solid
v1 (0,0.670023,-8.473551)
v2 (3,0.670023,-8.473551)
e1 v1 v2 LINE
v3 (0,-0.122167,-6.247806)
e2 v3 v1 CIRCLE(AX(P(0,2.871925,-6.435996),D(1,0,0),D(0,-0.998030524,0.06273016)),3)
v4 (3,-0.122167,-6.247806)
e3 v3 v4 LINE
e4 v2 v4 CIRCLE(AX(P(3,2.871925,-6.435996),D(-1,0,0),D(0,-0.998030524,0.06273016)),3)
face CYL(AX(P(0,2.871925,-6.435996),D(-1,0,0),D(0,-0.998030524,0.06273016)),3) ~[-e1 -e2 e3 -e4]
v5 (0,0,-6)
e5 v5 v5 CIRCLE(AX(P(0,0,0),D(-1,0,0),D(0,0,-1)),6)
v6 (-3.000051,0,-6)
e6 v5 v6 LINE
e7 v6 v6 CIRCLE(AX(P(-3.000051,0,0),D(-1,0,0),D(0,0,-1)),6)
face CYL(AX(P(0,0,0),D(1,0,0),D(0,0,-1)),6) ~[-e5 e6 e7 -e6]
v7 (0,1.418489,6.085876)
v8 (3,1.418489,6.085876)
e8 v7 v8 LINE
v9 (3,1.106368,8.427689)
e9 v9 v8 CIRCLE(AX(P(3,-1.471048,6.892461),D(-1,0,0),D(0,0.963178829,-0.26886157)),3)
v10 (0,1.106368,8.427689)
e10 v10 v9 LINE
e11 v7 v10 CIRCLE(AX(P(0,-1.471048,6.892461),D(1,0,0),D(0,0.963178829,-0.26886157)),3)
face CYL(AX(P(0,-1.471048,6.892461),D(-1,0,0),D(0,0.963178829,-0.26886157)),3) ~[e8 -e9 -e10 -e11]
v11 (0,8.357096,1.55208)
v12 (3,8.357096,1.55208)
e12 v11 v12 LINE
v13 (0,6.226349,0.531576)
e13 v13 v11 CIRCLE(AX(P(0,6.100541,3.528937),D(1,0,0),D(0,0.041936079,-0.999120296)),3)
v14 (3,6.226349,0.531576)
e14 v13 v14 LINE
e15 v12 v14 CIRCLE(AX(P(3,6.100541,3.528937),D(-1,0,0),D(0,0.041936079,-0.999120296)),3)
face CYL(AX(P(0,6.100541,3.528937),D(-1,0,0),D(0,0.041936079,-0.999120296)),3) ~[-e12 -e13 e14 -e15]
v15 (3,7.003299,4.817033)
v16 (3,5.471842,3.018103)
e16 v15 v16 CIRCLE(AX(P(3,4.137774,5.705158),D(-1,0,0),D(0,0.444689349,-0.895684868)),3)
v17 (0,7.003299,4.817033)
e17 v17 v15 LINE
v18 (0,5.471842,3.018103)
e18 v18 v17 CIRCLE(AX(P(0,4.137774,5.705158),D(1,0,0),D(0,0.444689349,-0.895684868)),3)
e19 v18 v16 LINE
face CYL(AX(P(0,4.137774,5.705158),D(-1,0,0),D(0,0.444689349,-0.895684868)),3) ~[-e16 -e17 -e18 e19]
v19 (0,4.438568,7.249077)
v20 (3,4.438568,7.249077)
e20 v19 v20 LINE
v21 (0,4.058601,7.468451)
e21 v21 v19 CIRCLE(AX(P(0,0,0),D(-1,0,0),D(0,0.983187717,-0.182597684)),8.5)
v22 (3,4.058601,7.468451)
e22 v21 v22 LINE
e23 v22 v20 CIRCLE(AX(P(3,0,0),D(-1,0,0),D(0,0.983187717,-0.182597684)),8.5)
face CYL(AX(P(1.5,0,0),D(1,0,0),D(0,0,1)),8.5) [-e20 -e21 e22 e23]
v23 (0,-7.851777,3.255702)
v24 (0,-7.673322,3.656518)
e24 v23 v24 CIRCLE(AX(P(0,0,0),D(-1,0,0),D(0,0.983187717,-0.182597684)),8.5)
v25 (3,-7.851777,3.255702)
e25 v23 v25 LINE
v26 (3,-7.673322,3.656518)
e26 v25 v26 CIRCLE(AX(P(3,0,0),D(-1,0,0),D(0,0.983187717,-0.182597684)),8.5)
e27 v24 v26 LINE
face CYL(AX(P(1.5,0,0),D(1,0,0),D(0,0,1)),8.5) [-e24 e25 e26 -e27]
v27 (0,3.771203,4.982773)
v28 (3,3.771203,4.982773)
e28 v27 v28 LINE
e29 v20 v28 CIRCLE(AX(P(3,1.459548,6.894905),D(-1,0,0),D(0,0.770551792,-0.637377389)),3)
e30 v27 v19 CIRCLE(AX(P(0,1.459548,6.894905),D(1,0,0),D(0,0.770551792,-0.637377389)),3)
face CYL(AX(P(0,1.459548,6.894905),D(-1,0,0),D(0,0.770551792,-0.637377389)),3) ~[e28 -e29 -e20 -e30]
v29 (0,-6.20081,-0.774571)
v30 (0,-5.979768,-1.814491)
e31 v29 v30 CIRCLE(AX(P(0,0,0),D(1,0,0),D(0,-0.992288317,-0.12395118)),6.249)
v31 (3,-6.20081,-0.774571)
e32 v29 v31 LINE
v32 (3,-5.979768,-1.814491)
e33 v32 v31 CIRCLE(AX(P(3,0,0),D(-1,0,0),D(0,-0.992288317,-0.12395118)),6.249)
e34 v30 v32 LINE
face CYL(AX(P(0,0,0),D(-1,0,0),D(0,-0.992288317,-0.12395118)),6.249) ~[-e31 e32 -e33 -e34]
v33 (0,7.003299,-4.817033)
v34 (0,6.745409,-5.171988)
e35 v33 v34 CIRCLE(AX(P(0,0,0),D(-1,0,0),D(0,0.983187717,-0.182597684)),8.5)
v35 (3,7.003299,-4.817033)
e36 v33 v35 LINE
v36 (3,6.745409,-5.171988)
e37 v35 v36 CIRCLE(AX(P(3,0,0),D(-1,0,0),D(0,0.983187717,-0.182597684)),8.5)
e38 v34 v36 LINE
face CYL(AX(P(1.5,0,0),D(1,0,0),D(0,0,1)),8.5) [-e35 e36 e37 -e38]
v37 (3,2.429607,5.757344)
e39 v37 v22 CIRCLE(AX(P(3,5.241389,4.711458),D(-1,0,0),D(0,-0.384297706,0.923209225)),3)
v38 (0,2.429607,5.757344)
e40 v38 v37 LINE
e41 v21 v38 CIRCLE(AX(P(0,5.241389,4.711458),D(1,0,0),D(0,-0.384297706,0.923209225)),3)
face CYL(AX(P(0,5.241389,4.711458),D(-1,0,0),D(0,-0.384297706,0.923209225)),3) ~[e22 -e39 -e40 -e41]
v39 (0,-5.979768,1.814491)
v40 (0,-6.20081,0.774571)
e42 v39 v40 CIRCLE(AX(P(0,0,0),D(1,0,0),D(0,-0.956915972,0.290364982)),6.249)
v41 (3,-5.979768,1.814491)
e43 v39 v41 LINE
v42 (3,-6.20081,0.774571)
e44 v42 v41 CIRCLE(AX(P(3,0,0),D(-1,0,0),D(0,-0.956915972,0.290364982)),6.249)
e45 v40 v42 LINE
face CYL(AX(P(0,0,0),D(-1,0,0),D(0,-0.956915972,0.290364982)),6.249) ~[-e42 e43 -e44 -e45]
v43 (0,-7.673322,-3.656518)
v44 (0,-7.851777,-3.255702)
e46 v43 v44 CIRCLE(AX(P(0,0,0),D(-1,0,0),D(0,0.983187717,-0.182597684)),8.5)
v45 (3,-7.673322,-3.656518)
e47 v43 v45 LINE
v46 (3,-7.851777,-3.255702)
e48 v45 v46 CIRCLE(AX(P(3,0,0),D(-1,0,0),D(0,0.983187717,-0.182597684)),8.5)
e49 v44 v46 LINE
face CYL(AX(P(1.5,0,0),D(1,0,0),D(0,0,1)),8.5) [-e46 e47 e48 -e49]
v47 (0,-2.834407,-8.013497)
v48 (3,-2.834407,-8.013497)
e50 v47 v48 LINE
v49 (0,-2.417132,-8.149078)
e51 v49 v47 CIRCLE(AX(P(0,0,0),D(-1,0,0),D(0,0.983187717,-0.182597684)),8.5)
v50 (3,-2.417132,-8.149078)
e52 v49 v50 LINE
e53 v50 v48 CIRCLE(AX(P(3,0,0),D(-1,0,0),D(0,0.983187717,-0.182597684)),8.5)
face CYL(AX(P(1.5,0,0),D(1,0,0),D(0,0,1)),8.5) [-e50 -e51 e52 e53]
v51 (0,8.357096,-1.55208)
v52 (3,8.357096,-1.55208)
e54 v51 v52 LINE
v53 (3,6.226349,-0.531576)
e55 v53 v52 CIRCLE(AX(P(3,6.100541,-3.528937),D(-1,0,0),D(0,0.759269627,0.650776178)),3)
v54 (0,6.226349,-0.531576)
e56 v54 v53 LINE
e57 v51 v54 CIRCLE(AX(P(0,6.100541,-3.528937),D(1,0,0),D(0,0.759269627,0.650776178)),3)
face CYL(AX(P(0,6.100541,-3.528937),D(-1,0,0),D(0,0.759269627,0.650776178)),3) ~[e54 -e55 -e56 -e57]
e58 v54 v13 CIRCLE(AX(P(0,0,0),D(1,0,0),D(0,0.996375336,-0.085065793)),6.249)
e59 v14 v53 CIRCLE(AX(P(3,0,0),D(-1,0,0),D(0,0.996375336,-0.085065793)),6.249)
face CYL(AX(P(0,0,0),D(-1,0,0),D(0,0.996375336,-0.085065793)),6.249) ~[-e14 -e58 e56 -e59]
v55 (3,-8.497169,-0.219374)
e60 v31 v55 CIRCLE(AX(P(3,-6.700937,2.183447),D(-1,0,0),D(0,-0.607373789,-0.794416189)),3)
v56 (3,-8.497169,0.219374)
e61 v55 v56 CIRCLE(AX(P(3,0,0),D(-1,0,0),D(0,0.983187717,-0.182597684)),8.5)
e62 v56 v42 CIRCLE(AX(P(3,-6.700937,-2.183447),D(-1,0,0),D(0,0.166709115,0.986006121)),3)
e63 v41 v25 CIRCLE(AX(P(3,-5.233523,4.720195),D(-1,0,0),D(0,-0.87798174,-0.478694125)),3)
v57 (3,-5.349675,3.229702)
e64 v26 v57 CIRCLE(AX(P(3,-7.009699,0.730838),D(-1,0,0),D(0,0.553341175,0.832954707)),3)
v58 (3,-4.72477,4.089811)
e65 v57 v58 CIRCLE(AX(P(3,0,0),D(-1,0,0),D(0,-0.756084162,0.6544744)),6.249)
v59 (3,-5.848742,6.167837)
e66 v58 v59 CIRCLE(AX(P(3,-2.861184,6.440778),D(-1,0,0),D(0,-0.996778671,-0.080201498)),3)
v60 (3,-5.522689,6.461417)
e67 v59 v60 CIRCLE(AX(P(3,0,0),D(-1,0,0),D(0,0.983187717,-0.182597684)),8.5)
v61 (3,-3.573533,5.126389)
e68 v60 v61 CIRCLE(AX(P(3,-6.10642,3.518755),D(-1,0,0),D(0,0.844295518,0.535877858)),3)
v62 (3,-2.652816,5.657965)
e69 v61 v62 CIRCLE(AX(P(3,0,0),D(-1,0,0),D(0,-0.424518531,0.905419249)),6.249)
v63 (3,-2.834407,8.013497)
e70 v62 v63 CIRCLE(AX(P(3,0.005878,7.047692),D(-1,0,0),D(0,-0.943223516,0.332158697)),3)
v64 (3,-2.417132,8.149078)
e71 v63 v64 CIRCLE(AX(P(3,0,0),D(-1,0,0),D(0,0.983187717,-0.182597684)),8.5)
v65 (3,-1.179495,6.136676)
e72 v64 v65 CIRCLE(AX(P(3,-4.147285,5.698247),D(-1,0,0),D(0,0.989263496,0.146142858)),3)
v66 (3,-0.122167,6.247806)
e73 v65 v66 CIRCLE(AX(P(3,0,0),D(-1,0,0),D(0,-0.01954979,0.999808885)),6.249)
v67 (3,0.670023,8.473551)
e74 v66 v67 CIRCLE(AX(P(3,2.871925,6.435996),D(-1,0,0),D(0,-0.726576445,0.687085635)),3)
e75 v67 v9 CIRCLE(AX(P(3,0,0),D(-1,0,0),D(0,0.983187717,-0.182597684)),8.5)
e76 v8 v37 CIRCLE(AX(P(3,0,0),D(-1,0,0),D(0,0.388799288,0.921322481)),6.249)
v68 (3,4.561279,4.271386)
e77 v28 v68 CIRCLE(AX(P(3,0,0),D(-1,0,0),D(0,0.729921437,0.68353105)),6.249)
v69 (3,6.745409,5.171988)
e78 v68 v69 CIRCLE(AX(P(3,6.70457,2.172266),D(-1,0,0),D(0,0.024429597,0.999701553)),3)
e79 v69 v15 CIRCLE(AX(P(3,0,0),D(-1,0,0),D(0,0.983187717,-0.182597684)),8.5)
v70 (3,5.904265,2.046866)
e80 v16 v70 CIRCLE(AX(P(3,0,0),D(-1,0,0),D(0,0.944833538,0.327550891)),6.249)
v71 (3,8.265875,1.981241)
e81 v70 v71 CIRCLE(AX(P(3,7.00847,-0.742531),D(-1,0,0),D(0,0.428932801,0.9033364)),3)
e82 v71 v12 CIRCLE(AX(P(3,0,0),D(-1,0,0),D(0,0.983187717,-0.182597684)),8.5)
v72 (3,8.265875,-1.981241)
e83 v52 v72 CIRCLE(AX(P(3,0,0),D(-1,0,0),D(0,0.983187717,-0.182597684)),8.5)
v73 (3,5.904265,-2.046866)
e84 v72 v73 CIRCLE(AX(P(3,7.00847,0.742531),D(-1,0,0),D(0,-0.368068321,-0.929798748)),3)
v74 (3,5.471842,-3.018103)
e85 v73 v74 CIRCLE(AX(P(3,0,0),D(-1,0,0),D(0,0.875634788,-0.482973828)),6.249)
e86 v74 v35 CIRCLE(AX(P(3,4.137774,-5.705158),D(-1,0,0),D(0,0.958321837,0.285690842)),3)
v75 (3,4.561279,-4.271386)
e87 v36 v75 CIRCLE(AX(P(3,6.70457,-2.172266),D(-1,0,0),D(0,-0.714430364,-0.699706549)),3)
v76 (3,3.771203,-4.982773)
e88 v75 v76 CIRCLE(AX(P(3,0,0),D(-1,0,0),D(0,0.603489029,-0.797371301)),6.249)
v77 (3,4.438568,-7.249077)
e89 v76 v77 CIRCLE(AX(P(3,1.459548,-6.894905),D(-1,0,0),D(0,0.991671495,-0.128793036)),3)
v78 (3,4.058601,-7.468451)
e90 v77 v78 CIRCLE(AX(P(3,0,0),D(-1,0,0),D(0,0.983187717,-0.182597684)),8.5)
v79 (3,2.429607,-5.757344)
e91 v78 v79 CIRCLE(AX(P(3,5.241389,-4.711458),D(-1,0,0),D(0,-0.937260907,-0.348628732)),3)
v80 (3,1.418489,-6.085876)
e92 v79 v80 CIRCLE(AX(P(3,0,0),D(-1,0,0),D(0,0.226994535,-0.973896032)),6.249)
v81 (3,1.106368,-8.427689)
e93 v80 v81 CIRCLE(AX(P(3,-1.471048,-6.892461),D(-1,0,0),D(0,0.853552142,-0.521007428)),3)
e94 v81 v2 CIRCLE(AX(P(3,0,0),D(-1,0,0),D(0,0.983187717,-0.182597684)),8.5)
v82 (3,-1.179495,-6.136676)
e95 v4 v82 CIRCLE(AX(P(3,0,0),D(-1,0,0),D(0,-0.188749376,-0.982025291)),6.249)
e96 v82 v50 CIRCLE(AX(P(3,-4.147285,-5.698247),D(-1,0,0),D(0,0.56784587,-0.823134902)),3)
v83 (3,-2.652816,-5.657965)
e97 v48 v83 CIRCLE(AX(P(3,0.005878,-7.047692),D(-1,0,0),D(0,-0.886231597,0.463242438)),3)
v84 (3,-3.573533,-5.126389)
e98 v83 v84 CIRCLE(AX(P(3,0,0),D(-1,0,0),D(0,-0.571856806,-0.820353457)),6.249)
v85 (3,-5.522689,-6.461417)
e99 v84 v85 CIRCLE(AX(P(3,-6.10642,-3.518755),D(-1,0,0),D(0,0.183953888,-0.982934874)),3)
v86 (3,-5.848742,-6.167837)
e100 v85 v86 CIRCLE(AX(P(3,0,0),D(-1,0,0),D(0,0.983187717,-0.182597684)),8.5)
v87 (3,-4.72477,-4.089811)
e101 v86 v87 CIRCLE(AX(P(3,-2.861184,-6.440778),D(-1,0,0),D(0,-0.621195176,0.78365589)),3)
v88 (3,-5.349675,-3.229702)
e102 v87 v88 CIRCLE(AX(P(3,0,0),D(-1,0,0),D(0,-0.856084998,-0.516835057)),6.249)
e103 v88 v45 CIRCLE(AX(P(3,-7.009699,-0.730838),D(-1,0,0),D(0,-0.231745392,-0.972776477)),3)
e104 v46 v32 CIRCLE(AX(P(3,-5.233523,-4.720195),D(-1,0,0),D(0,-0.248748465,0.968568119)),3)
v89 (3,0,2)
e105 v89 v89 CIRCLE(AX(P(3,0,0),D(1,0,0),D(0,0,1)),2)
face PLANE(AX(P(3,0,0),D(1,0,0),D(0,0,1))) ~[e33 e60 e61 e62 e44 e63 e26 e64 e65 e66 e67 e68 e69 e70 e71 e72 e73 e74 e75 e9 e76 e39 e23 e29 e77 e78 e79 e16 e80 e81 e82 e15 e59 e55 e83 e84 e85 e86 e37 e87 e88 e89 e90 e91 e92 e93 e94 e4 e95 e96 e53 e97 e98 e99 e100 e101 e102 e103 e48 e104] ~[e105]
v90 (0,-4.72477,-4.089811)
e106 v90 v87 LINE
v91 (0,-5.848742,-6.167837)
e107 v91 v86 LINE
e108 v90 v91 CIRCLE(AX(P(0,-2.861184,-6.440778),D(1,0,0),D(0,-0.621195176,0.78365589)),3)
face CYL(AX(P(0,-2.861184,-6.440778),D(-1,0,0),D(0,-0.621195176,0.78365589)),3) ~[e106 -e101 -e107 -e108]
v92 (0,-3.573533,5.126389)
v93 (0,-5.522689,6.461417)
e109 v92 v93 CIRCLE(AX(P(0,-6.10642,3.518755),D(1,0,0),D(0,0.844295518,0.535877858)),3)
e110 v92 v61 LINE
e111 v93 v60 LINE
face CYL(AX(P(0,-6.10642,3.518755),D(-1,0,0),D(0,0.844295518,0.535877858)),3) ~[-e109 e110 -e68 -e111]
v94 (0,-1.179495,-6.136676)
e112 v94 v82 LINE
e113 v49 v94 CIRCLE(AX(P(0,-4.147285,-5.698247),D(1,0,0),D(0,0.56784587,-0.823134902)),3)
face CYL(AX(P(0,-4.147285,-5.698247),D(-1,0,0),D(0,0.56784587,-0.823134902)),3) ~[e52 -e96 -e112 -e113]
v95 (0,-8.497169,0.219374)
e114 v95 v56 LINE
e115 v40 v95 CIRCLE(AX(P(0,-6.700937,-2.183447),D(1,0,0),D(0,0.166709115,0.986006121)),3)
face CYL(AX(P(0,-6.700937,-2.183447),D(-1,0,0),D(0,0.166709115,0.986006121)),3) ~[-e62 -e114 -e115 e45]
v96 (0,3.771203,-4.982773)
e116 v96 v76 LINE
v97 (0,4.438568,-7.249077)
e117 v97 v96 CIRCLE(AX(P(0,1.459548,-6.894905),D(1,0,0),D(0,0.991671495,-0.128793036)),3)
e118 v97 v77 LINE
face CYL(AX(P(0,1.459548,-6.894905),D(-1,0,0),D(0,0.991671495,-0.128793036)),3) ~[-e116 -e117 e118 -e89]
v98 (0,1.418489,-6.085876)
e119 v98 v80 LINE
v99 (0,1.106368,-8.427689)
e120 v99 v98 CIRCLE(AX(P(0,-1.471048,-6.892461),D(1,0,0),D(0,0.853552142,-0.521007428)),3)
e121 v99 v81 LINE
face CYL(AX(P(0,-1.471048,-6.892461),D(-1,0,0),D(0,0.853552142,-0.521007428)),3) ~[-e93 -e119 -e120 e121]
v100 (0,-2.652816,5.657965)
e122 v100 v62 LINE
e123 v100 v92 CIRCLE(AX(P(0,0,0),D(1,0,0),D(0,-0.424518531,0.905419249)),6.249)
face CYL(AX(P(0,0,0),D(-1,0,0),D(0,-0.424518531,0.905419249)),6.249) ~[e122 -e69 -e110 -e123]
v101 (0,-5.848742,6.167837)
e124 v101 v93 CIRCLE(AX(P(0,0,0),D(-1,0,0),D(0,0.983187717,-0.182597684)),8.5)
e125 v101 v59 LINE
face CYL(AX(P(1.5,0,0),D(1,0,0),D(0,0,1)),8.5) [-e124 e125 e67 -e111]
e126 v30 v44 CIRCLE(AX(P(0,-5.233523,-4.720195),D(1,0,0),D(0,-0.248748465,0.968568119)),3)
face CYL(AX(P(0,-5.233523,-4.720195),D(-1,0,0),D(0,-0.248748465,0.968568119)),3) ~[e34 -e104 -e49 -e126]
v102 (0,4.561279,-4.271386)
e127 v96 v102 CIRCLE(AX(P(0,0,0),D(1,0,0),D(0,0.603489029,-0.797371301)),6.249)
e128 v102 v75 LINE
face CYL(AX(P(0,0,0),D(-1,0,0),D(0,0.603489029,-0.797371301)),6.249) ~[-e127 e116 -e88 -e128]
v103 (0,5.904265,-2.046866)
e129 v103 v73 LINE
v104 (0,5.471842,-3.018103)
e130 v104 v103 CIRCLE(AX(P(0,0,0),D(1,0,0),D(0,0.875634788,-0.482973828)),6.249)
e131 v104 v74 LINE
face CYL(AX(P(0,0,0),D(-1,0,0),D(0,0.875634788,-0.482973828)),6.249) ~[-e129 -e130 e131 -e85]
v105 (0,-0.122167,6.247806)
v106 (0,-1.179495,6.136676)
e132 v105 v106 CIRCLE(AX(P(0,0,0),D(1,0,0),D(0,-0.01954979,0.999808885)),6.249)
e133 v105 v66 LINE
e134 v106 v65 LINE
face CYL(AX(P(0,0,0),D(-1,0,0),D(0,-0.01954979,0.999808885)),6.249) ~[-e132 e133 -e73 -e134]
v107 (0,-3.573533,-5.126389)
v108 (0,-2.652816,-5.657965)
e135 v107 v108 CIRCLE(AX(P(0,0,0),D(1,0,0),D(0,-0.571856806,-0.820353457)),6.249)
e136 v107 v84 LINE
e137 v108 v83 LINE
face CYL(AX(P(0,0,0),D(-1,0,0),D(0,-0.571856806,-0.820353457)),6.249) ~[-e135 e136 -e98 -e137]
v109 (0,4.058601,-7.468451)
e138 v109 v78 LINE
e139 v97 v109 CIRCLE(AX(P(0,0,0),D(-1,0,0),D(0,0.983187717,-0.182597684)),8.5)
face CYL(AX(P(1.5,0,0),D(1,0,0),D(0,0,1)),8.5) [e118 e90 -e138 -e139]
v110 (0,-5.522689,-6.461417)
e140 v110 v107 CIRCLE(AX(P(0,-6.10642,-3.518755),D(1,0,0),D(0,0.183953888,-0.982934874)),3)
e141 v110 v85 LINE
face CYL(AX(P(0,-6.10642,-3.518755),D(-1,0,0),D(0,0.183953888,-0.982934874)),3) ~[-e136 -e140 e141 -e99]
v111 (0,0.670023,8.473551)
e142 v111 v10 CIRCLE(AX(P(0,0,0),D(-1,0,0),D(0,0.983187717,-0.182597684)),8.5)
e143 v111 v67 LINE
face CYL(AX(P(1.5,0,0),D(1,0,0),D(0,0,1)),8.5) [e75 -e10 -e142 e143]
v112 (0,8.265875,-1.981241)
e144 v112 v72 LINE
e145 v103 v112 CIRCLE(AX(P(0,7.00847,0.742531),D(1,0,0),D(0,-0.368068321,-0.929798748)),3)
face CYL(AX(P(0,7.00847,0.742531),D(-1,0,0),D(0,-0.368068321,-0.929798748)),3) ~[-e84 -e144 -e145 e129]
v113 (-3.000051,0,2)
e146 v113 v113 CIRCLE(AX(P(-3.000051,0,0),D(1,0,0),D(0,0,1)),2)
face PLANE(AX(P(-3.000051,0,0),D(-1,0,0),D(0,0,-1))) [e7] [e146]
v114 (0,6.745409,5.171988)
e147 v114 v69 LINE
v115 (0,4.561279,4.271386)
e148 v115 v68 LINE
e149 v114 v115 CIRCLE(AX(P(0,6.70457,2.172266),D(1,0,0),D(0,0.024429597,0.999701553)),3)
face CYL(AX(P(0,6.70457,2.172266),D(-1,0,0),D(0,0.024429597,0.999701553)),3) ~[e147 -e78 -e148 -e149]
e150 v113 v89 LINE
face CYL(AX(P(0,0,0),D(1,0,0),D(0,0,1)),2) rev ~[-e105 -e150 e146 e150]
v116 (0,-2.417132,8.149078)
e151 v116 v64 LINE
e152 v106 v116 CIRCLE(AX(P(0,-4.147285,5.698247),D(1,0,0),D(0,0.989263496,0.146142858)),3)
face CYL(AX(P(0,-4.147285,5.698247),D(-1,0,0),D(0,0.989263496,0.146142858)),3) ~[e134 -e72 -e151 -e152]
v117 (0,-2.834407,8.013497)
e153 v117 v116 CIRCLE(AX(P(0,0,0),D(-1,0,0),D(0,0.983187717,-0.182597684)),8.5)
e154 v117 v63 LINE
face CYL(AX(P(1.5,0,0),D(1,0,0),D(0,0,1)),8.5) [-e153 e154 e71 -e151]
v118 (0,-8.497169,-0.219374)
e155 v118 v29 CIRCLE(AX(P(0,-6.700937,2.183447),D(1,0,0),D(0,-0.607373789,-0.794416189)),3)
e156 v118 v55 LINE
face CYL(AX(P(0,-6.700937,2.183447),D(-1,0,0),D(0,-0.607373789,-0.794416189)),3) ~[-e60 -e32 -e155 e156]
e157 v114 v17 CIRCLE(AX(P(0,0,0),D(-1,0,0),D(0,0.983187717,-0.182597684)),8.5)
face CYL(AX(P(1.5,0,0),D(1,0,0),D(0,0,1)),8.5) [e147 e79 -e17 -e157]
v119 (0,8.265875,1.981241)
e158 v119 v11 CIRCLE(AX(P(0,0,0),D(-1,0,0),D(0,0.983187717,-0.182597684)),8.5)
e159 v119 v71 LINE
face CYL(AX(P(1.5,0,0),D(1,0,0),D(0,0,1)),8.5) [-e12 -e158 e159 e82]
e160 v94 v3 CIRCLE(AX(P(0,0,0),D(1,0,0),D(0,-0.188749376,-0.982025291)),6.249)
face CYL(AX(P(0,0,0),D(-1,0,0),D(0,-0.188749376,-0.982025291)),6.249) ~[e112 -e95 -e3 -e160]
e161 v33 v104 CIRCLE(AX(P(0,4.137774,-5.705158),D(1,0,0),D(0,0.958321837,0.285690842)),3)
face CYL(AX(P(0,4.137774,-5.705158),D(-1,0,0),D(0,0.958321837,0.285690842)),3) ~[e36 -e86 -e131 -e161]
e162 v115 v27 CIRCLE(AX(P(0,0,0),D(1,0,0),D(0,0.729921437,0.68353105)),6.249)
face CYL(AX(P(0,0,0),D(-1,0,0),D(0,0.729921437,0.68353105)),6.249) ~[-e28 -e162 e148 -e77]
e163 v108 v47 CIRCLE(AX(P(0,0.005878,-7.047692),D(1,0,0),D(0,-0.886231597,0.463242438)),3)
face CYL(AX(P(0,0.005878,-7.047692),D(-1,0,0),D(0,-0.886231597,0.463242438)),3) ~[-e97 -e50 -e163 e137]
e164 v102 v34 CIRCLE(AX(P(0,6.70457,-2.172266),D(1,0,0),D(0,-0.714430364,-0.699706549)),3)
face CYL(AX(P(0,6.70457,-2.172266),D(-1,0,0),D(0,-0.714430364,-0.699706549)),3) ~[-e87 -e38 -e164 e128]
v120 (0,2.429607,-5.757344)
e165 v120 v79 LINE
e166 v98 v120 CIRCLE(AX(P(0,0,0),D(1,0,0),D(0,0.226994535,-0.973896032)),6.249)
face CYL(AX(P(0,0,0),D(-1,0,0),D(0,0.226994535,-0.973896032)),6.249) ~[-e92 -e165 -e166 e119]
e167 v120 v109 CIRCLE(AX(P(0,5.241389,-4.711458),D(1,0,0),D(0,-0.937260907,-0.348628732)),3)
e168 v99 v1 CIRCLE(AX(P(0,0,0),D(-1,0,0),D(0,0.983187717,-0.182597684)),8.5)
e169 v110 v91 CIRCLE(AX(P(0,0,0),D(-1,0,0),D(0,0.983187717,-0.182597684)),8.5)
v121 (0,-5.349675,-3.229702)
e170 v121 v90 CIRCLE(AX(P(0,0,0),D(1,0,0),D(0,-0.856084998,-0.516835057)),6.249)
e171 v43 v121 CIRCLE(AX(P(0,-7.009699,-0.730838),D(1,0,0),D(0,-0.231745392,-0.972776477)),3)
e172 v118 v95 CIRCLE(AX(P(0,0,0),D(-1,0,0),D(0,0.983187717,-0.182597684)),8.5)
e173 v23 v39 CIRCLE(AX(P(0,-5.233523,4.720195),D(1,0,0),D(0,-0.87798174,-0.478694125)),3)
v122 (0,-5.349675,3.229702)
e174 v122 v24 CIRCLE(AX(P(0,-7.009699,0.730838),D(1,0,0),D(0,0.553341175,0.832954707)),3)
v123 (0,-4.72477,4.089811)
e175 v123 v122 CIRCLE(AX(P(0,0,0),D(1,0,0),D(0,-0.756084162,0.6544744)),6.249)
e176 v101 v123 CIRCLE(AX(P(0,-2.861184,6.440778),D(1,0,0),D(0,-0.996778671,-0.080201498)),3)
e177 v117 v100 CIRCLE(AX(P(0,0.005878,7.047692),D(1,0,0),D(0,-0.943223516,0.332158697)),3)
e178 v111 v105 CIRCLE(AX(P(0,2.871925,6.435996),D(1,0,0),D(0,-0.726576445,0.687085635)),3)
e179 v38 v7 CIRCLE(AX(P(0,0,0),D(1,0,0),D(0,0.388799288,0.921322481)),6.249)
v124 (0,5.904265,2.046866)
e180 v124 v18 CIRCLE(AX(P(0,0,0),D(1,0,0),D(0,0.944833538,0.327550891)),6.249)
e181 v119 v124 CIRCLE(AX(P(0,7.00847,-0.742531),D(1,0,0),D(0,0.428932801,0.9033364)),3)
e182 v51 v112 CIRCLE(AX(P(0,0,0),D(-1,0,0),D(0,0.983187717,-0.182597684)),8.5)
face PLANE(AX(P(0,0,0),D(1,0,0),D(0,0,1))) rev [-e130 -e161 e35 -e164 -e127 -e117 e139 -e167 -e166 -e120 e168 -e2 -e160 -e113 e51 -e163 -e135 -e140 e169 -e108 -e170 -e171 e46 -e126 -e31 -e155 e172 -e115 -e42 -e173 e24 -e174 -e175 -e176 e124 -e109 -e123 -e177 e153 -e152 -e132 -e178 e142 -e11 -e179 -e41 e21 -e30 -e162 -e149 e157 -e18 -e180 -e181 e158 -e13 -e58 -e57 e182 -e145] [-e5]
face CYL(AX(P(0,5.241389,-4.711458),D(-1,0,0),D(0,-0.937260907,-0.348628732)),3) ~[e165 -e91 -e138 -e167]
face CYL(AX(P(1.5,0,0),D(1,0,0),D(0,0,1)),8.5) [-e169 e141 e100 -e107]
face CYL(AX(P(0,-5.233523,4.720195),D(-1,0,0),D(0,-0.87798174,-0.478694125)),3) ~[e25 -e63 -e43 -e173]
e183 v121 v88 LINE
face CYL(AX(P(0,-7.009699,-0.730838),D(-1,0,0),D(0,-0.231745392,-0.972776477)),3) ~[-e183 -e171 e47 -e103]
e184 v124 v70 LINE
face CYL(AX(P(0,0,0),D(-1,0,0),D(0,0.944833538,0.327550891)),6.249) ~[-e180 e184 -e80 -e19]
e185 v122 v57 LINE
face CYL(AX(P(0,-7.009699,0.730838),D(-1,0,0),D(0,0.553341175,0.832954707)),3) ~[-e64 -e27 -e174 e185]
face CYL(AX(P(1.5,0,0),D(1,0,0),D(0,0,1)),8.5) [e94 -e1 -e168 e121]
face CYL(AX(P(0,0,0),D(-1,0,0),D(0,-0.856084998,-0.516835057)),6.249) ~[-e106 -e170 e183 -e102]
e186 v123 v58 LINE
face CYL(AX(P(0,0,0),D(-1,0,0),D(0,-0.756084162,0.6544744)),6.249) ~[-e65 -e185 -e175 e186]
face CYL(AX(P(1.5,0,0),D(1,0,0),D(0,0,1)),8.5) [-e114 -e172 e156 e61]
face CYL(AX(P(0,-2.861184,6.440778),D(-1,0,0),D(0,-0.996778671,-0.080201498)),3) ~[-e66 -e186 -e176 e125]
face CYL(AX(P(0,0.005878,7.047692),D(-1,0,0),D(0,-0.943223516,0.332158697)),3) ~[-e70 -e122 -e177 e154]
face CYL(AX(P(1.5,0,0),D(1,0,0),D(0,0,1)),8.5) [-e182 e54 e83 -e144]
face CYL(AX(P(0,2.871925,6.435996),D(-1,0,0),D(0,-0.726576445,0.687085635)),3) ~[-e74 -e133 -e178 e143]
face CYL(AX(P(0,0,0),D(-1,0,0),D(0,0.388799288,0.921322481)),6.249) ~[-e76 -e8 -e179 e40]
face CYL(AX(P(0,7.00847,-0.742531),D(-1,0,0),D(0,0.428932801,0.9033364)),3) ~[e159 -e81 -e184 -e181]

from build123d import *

# Parameters (mm, degrees)
BASPROSKE_W      = 3
BASPROSKE_H      = 8.5
TOOTHCUT_DEPTH   = 13.389511693
TEETHCUTS_COUNT  = 15
TEETHCUTS_ANGLE  = 336
HUBNEAONESKE_R   = 6
HUBNEARONE_DEPTH = 3.0000508
BORSKE_R         = 2
BORE_DEPTH       = 6.0000508


with BuildPart() as part:
    # BasProSke → Base-Revolve (revolve)
    with BuildSketch(Plane(origin=(0, 0, 0), x_dir=(1, 0, 0), z_dir=(0, 1, 0)), mode=Mode.PRIVATE) as base_revolve_sk:
        with Locations((1.5, 4.25)):
            Rectangle(BASPROSKE_W, BASPROSKE_H)
    revolve(base_revolve_sk.sketch.rotate(Axis((-10, 0, 0), (1, 0, 0)), 180), axis=Axis((-10, 0, 0), (1, 0, 0)))

    # TooCutSke → ToothCut (cut, through all)
    with BuildSketch(Plane(origin=(0, 0, 0), x_dir=(0, 0, -1), z_dir=(1, 0, 0))):
        with BuildLine():
            ThreePointArc((0.531576138, 6.226349477), (0, 6.249), (-0.531576138, 6.226349477))
            ThreePointArc((-0.531576138, 6.226349477), (-0.830301624, 7.411024729), (-1.576608494, 8.378350125))
            ThreePointArc((-1.576608494, 8.378350125), (0, 8.5254), (1.576608494, 8.378350125))
            ThreePointArc((1.576608494, 8.378350125), (0.830301624, 7.411024729), (0.531576138, 6.226349477))
        make_face()
    toothcut = extrude(amount=TOOTHCUT_DEPTH, mode=Mode.SUBTRACT)

    # TeethCuts: ToothCut ×15 about axis
    teethcuts_axis = Axis((-10, 0, 0), (1, 0, 0))
    for i in range(1, TEETHCUTS_COUNT):
        add(toothcut.rotate(teethcuts_axis, i * TEETHCUTS_ANGLE / (TEETHCUTS_COUNT - 1)), mode=Mode.SUBTRACT)

    # HubNeaOneSke → HubNearOne (add)
    with BuildSketch(Plane.ZY):
        with Locations(Location((0, 0, 0), (0, 0, 180))):
            Circle(HUBNEAONESKE_R)
    extrude(amount=HUBNEARONE_DEPTH)

    # BorSke → Bore (cut, symmetric)
    with BuildSketch(Plane(origin=(0, 0, 0), x_dir=(0, 0, -1), z_dir=(1, 0, 0))):
        with Locations(Location((0, 0, 0), (0, 0, 180))):
            Circle(BORSKE_R)
    extrude(amount=BORE_DEPTH, both=True, mode=Mode.SUBTRACT)


solid = part.part
